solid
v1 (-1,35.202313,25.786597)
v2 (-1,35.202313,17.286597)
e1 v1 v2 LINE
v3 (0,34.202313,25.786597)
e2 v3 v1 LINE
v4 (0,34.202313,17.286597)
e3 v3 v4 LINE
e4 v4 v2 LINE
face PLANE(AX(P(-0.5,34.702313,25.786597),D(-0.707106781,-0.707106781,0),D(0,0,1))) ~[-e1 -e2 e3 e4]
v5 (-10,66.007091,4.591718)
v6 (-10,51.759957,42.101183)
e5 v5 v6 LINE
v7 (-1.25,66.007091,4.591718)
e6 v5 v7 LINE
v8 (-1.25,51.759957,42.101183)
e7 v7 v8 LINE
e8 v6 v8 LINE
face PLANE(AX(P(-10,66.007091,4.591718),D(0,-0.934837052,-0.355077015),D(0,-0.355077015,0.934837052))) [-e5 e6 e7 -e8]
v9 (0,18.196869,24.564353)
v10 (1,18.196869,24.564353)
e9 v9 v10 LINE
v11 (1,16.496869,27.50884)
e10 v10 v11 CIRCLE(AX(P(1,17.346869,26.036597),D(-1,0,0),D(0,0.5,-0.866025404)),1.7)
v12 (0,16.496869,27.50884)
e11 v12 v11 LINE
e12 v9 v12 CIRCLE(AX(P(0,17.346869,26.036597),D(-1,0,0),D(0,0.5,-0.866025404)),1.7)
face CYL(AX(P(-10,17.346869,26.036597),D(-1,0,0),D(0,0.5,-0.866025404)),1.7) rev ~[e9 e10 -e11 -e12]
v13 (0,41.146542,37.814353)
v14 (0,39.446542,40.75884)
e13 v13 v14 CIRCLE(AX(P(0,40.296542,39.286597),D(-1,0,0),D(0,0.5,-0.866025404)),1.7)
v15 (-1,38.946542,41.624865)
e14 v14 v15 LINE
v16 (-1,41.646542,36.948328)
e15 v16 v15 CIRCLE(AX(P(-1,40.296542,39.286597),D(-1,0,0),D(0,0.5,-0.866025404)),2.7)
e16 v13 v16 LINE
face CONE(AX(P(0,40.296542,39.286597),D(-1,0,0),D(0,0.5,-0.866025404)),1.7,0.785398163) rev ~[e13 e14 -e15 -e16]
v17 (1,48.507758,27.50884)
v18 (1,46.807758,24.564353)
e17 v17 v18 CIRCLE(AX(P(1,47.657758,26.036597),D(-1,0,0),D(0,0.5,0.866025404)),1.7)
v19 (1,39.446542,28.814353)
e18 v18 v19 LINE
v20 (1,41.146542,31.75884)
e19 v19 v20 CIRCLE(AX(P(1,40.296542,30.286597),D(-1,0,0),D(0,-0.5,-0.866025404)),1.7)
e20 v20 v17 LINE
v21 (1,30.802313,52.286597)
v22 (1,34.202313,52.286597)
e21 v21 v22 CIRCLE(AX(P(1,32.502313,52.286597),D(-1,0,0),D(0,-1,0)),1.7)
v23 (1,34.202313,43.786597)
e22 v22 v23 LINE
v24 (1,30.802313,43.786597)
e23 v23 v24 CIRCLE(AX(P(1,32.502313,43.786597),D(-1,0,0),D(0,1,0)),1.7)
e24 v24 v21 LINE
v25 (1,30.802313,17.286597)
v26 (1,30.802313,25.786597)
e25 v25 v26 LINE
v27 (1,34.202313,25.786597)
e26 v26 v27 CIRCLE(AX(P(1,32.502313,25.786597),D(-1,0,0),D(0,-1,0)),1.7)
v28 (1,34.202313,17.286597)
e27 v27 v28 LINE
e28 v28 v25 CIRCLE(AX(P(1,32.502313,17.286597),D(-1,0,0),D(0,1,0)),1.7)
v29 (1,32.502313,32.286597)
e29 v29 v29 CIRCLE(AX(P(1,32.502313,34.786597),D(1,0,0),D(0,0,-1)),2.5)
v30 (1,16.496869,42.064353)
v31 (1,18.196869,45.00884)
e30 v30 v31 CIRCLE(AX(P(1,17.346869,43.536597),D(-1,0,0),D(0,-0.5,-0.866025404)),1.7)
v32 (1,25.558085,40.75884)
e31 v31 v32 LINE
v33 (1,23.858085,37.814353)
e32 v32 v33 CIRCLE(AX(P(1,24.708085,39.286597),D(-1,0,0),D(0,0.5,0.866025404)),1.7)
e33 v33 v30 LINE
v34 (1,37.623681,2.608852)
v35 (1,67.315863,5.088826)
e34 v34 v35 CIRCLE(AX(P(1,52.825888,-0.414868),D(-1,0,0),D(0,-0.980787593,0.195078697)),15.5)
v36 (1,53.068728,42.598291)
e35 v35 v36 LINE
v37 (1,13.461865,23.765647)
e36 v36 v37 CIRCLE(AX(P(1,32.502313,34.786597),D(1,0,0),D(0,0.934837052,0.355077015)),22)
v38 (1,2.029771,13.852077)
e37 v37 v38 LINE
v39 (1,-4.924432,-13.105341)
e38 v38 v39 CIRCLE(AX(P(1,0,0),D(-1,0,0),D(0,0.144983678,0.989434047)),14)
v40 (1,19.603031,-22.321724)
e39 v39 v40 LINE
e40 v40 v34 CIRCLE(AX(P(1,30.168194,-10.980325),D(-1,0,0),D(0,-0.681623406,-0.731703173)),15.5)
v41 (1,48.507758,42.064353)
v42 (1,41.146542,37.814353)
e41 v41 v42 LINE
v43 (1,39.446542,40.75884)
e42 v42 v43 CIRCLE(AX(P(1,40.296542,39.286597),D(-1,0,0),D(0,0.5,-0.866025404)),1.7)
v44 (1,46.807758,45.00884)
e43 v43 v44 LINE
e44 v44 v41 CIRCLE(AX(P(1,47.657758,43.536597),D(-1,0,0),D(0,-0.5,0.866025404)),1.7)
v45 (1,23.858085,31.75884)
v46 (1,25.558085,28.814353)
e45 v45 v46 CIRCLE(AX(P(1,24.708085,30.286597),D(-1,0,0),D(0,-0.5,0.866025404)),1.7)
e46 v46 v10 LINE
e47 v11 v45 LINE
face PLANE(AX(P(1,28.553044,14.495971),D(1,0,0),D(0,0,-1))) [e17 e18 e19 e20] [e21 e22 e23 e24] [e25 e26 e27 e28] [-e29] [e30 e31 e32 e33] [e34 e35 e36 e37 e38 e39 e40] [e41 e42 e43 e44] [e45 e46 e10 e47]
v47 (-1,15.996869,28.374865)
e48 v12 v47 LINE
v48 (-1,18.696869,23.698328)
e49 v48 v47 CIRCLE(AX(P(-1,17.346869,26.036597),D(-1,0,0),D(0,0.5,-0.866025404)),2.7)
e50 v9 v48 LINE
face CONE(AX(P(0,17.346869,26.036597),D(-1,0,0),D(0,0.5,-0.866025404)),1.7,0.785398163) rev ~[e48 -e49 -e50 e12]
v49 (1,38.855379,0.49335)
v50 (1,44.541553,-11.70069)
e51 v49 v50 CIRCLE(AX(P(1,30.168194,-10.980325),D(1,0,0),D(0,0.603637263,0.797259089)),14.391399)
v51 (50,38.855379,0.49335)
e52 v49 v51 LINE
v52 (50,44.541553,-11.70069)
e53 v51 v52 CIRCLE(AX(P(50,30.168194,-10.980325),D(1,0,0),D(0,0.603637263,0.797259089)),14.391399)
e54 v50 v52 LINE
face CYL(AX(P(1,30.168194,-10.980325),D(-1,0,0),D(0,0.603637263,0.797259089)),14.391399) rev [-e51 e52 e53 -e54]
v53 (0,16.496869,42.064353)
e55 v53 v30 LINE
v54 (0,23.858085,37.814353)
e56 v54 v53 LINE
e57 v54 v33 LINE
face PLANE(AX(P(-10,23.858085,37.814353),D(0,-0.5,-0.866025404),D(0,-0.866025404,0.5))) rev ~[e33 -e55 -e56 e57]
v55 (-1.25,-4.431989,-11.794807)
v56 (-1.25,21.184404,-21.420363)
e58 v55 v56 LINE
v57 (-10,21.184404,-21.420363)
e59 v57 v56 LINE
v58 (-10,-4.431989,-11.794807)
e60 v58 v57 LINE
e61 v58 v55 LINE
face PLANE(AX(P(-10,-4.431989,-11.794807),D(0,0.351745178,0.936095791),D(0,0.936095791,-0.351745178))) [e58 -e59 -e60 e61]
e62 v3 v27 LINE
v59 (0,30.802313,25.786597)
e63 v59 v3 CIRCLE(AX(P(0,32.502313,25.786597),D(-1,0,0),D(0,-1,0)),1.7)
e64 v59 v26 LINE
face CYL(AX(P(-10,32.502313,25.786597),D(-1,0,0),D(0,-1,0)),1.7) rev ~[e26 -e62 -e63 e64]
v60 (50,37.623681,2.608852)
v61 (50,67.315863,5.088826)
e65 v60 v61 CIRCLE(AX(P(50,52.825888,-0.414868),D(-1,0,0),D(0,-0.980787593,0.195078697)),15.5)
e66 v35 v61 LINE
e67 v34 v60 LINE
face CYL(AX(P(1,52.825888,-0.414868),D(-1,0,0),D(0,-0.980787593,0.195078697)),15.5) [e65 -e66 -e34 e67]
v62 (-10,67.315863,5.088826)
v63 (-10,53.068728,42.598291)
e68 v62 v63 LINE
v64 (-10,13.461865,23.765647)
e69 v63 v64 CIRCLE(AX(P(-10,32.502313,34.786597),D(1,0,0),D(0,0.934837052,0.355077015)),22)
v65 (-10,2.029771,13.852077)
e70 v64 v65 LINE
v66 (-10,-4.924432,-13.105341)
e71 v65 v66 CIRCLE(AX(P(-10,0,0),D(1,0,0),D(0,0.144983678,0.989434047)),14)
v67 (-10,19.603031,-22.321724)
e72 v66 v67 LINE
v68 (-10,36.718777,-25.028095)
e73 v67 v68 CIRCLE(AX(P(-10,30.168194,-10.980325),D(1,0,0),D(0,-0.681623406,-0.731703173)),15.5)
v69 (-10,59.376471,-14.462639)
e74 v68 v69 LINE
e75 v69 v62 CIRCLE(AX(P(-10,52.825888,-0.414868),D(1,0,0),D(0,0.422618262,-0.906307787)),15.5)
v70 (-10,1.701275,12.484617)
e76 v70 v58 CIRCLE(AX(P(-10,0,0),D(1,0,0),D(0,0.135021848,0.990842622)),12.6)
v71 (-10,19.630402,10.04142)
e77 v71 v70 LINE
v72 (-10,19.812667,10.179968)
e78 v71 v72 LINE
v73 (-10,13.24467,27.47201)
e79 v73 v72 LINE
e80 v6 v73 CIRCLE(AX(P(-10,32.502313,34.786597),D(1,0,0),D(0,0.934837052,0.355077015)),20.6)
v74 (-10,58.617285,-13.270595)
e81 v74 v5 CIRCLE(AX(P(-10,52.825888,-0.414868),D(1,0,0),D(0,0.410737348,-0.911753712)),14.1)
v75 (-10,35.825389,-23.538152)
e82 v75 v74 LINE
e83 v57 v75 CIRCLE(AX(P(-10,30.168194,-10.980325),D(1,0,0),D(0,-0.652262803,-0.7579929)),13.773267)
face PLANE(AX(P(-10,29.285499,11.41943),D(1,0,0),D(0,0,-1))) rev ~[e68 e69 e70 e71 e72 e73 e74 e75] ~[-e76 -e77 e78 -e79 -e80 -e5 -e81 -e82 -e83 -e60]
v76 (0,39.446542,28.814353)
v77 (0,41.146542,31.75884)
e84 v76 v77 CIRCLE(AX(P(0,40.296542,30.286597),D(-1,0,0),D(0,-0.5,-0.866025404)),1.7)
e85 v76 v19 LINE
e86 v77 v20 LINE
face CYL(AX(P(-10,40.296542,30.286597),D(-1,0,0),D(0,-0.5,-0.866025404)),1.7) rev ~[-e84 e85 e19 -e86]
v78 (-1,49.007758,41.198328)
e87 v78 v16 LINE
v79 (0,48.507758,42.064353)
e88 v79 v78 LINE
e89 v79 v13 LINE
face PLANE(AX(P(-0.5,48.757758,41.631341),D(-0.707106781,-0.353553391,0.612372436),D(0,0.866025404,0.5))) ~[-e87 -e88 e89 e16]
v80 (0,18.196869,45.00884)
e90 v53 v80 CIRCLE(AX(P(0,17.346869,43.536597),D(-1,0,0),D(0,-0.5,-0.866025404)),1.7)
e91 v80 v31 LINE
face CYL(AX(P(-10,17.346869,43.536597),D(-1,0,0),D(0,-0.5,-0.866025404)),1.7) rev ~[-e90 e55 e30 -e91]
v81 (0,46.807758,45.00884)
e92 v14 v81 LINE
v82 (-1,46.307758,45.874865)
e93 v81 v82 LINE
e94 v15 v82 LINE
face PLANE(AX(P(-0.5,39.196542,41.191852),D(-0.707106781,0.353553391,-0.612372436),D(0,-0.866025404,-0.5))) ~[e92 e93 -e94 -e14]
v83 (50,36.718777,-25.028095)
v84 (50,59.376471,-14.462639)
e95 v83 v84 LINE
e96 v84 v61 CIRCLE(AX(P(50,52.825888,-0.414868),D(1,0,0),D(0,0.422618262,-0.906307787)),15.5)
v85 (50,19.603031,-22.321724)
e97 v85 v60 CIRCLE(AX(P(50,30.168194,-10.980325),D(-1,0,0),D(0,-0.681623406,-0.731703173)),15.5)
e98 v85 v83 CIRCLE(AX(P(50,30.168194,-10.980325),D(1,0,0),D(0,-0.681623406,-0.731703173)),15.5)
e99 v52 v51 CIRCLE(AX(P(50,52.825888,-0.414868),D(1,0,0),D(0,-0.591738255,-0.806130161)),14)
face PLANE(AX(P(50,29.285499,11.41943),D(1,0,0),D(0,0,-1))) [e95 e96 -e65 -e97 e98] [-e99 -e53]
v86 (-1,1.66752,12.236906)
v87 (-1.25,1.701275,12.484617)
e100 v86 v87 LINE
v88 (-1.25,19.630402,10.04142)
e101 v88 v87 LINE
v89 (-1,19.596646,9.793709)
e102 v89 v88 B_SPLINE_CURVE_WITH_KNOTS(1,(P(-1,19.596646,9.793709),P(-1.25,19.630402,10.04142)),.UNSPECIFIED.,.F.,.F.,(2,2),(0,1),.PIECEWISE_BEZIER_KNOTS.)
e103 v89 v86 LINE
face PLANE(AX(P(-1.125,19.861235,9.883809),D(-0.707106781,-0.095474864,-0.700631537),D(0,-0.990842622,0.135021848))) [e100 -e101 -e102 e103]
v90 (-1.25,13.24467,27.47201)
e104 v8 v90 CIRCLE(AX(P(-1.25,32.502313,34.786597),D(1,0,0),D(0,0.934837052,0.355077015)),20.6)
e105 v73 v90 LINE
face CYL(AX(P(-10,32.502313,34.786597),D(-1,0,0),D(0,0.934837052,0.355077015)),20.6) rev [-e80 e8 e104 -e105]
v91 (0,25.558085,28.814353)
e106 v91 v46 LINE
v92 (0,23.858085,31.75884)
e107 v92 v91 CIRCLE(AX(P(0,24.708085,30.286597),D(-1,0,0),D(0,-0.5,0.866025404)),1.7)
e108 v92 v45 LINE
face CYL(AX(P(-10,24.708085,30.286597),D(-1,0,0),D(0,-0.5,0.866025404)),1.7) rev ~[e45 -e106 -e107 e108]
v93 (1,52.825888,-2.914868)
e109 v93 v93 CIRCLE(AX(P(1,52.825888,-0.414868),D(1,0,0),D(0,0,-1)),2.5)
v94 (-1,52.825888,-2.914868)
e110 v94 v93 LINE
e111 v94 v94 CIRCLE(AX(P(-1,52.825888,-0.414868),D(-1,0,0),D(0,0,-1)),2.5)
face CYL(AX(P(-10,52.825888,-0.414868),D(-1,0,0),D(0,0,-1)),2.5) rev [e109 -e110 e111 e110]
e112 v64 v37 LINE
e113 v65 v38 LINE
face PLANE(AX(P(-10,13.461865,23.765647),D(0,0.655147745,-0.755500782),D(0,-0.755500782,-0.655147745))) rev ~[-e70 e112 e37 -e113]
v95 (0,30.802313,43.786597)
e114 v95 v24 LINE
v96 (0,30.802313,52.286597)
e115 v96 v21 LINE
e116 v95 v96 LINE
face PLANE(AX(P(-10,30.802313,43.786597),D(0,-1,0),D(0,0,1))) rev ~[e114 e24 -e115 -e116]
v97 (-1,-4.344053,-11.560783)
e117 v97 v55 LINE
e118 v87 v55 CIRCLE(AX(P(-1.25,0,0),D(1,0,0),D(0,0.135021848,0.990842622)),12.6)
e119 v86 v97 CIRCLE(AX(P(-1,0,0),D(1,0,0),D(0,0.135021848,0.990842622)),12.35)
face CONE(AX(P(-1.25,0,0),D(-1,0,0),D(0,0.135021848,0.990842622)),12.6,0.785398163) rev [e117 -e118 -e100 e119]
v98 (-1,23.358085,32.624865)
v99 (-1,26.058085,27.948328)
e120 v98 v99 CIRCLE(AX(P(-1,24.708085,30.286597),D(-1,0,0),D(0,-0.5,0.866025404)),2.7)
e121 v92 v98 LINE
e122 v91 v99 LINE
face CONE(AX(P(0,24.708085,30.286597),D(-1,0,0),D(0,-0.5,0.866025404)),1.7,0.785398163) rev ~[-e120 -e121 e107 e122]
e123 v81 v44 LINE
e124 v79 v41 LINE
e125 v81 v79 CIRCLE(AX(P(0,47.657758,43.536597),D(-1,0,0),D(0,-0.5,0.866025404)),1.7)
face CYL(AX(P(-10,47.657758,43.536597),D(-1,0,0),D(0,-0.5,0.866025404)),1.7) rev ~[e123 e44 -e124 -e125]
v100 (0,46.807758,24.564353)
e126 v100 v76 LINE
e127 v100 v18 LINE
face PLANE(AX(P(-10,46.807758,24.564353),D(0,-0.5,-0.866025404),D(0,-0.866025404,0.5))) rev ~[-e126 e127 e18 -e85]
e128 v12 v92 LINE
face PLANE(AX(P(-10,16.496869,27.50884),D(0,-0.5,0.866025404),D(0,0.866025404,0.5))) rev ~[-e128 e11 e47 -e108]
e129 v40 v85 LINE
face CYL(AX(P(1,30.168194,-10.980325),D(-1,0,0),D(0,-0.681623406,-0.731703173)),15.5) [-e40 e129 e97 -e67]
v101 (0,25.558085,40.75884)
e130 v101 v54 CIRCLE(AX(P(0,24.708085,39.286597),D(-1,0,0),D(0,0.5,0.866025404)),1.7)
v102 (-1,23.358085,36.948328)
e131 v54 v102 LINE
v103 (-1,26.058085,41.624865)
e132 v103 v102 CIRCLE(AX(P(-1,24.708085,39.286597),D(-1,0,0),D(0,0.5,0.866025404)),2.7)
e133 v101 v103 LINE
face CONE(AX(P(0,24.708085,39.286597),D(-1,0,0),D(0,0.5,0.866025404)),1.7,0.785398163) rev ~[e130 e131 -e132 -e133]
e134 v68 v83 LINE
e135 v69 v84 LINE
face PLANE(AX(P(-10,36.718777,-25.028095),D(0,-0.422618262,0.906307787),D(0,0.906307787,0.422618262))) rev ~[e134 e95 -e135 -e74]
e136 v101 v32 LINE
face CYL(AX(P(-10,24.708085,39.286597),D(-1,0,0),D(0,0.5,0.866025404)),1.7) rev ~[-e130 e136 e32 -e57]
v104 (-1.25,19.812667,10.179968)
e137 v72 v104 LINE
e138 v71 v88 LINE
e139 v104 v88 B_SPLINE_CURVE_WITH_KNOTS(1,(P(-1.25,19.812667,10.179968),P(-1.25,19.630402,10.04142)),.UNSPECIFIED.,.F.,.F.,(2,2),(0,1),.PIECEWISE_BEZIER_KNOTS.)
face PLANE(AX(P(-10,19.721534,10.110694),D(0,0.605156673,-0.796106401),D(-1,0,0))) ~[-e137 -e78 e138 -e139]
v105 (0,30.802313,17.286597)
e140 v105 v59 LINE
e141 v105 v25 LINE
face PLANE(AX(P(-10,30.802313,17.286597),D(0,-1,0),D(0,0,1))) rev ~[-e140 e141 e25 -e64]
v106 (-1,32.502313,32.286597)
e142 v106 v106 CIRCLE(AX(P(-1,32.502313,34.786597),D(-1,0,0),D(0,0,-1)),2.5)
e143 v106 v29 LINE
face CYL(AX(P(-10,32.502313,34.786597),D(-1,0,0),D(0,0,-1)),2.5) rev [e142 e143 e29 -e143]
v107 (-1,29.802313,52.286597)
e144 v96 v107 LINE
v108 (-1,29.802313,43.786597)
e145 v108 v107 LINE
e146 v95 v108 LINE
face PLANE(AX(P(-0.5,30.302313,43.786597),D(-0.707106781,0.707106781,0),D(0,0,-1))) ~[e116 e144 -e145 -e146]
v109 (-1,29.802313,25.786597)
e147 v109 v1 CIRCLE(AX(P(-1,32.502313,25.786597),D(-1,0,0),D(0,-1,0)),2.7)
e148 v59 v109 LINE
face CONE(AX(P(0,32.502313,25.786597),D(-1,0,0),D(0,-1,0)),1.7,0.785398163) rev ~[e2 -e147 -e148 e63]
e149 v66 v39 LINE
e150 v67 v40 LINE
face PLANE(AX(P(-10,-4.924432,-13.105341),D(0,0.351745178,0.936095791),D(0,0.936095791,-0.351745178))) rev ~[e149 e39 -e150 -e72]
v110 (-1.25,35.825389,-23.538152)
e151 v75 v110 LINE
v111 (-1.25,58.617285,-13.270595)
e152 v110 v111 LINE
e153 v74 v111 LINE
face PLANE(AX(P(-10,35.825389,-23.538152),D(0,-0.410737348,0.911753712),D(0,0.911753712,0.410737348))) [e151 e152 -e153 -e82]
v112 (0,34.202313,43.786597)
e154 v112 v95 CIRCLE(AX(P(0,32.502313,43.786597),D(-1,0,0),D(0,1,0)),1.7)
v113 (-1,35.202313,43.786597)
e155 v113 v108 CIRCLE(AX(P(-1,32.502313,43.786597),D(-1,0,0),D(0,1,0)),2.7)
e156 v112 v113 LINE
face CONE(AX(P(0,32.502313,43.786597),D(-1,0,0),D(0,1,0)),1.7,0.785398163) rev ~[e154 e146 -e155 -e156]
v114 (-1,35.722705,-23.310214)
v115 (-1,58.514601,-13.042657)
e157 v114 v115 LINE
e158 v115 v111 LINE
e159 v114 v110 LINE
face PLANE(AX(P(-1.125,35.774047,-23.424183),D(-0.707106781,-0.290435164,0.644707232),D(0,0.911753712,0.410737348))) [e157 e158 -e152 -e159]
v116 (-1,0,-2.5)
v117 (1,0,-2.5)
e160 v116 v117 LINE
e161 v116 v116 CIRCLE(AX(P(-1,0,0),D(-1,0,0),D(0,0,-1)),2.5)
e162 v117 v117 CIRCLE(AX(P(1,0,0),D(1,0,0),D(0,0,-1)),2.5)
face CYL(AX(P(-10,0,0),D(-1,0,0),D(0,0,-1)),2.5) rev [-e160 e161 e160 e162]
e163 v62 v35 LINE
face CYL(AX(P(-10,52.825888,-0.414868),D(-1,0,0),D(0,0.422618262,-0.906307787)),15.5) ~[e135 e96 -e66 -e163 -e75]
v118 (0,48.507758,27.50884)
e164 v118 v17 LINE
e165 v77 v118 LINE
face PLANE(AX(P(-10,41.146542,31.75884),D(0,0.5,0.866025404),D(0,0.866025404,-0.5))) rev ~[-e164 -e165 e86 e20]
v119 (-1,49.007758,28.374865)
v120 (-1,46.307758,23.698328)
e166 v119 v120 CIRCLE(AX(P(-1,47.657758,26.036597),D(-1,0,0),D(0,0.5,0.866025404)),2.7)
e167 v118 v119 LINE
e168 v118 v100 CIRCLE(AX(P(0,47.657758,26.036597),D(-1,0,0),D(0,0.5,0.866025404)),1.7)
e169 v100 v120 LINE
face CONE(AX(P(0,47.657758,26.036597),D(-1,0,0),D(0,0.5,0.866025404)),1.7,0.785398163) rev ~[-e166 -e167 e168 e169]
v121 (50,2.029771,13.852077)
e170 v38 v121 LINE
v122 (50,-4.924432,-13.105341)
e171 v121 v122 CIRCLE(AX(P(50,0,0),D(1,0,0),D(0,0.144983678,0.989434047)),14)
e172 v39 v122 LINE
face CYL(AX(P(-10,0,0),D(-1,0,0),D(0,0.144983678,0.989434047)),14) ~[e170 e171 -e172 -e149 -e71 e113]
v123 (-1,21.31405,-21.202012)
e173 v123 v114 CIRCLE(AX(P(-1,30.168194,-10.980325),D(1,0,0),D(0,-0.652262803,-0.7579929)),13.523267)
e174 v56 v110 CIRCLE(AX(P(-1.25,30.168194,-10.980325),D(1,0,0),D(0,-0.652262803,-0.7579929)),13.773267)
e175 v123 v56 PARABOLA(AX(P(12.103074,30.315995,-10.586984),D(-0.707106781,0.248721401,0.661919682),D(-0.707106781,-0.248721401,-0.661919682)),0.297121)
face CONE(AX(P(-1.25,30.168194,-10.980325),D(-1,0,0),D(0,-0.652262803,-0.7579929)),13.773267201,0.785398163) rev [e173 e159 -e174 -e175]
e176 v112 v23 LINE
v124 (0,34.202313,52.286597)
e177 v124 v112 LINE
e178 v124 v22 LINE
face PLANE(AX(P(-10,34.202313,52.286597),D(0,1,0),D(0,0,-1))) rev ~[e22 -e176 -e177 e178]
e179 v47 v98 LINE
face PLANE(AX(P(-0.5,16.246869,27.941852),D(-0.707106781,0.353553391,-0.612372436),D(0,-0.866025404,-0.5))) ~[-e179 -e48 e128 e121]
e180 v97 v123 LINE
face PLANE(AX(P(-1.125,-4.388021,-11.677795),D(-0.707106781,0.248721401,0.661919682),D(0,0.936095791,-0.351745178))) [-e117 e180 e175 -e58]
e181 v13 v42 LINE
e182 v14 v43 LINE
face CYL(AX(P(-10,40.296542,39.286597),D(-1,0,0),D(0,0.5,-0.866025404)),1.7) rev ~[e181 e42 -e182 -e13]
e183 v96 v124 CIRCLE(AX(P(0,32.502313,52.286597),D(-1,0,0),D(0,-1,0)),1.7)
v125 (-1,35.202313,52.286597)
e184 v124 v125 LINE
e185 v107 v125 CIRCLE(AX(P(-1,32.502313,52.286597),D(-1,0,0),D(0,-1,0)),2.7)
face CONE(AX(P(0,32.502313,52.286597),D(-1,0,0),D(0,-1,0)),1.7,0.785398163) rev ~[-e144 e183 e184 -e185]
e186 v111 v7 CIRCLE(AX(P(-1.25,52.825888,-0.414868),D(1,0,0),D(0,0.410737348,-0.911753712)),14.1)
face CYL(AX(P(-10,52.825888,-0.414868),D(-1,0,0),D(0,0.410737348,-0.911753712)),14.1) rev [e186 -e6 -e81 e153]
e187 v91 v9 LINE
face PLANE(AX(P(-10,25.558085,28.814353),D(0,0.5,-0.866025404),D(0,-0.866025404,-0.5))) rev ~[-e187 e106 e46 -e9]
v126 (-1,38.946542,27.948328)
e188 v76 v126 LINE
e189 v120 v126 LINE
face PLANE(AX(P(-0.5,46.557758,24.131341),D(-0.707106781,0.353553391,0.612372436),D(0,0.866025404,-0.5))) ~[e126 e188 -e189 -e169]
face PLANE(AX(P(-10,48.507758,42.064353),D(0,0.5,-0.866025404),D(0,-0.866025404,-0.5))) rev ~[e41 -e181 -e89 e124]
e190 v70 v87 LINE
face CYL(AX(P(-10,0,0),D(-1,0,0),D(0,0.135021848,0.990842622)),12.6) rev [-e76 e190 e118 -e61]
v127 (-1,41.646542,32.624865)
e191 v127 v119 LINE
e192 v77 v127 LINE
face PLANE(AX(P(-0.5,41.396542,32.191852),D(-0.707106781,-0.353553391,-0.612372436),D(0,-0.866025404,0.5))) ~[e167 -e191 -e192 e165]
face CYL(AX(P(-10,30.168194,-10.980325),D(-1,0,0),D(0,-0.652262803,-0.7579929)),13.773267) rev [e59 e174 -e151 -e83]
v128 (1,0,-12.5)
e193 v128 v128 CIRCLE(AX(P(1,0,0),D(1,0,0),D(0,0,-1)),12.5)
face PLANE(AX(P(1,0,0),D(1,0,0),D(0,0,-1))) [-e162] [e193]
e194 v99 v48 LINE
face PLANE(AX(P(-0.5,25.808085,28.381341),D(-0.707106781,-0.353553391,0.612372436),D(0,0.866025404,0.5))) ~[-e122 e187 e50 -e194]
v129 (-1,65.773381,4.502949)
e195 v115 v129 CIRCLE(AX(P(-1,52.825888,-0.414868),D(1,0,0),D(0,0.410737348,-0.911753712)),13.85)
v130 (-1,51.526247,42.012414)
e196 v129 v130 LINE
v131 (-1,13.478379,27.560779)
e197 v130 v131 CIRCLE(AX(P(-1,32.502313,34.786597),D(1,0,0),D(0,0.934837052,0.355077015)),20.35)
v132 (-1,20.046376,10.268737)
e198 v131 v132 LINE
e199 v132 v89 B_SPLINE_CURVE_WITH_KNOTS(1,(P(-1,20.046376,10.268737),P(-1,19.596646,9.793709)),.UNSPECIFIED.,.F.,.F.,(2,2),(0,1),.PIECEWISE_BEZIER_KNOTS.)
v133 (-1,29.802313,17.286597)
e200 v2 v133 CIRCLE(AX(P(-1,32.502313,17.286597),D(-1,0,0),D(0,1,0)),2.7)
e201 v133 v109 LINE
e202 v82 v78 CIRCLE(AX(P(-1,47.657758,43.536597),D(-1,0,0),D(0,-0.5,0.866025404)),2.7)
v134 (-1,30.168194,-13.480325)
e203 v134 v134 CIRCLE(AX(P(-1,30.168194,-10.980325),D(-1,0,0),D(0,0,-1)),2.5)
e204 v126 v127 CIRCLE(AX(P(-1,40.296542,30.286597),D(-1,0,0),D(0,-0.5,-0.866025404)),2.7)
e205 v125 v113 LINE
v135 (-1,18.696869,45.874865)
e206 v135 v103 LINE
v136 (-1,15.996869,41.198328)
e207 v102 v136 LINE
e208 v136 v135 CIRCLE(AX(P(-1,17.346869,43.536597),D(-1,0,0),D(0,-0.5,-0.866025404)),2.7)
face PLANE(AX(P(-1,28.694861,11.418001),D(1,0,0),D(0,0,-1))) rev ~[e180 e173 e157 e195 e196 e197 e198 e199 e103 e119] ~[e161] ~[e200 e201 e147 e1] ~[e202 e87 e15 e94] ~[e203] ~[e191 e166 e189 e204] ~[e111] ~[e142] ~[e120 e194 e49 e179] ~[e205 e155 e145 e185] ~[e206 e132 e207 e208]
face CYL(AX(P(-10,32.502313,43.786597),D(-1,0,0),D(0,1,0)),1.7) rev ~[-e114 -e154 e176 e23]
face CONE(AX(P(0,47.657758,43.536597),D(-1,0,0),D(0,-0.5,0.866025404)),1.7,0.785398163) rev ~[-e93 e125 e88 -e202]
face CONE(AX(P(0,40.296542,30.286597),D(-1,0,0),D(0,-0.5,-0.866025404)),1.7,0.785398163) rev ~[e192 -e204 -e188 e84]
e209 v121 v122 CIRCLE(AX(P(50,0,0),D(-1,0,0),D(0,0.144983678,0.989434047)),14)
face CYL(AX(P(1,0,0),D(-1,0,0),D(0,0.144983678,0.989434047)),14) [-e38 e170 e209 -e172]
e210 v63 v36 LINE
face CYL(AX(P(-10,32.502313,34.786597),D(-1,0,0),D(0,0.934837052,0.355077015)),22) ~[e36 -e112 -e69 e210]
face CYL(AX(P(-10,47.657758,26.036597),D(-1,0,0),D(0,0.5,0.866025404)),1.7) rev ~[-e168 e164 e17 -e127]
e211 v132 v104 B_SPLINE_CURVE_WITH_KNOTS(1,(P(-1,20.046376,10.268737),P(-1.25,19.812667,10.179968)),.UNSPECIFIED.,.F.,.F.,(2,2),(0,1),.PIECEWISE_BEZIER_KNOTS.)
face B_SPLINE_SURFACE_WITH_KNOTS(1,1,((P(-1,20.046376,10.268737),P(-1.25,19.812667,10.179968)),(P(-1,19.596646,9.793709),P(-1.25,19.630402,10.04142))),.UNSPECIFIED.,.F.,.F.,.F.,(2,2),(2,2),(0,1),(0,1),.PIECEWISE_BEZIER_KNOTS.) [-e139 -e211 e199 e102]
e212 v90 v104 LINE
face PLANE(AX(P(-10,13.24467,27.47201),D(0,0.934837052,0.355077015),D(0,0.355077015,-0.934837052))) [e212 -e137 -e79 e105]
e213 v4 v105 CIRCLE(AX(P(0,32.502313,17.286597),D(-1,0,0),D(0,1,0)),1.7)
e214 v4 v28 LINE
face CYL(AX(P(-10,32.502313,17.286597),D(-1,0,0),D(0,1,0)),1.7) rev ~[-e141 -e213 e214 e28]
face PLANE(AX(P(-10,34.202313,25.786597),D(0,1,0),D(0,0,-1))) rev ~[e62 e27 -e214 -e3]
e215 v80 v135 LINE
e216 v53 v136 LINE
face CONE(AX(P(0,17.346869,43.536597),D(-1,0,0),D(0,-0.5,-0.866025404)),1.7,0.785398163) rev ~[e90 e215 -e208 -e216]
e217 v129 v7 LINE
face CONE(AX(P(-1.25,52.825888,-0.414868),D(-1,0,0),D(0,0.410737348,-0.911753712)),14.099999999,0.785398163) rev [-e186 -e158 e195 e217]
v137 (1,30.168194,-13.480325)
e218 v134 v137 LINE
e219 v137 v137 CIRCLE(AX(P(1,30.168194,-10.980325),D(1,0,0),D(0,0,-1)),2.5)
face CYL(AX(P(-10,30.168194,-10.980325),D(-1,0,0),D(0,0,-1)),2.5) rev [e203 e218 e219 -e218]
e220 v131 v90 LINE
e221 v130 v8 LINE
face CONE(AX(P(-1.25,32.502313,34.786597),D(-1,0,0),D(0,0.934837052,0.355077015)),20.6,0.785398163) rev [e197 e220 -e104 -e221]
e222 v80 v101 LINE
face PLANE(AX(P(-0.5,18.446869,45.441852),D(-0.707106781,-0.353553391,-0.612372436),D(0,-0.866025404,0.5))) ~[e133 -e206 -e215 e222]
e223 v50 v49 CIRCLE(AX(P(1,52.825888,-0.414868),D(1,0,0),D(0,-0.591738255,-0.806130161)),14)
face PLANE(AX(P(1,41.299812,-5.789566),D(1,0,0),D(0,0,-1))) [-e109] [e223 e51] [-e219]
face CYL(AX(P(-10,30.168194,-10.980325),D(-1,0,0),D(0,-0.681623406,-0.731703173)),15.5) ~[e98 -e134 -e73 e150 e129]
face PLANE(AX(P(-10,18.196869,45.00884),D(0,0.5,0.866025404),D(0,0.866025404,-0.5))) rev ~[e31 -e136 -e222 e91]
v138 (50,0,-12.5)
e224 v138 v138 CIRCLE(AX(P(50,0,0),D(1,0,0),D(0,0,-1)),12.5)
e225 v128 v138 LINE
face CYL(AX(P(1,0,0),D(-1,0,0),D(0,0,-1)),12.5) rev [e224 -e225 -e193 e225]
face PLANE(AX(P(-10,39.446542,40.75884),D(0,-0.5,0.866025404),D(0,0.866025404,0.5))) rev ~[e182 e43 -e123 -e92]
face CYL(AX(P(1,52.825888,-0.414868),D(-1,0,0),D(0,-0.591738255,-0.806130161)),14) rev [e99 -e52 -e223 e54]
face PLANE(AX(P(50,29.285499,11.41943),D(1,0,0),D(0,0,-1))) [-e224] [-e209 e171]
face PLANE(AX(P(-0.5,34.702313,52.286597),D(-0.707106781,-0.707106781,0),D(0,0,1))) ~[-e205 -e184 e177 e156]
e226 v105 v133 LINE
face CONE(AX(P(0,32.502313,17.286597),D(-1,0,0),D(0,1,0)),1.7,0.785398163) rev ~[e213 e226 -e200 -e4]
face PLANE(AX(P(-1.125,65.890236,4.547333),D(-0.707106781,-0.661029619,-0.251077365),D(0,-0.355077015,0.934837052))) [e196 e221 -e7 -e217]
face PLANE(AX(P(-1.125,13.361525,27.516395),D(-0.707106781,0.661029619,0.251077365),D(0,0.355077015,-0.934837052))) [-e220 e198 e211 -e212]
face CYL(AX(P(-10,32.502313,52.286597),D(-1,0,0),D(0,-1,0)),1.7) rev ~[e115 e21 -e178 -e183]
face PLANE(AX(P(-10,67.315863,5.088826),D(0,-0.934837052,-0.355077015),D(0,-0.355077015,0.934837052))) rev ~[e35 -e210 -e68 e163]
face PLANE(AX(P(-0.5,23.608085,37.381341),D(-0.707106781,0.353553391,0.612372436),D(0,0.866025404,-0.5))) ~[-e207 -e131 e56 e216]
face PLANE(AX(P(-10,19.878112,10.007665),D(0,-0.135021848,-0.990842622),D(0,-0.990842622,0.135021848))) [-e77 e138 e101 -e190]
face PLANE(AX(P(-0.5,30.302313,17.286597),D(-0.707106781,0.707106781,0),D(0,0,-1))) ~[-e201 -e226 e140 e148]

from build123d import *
from OCP.BRepFilletAPI import BRepFilletAPI_MakeChamfer
from build123d.topology import SkipClean

# Parameters (mm, degrees)
BOSS_EXTRUDE1_DEPTH      = 50
BOSS_EXTRUDE1_DEPTH_BACK = 10
SKETCH1_R                = 2.5
CUT_EXTRUDE1_DEPTH       = 9
CUT_EXTRUDE2_START       = -49
SKETCH3_R                = 2.5
SKETCH3_R_2              = 12.5
CUT_EXTRUDE2_DEPTH       = 49
CHAMFER1_SIZE            = 1
CHAMFER3_SIZE            = 0.25
CHAMFER3_SIZE2           = 0.184313844


with BuildPart() as part:
    # Sketch1 → Boss-Extrude1 (new, two sides: drawn at the far end of the back side and taken through both)
    with BuildSketch(Plane(origin=(0, 0, 0), x_dir=(0, 0, -1), z_dir=(1, 0, 0)).offset(-BOSS_EXTRUDE1_DEPTH_BACK)):
        with BuildLine():
            Line((-23.765647123, 13.461864934), (-13.852076656, 2.029771495))
            ThreePointArc((-13.852076656, 2.029771495), (-3.497090476, -13.556192615), (13.105341071, -4.924432496))
            Line((13.105341071, -4.924432496), (22.321723678, 19.603030839))
            ThreePointArc((22.321723678, 19.603030839), (26.290114693, 27.747382955), (25.028095201, 36.718776684))
            Line((25.028095201, 36.718776684), (14.462638657, 59.37647136))
            ThreePointArc((14.462638657, 59.37647136), (6.246574067, 67.186988673), (-5.088825774, 67.315862606))
            Line((-5.088825774, 67.315862606), (-42.598290861, 53.068728443))
            ThreePointArc((-42.598290861, 53.068728443), (-54.654931611, 23.055130592), (-23.765647123, 13.461864934))
        make_face()
        with Locations((-34.786596532, 32.502313304)):
            Circle(SKETCH1_R, mode=Mode.SUBTRACT)
        Circle(SKETCH1_R, mode=Mode.SUBTRACT)
        with Locations((10.980324502, 30.168193627)):
            Circle(SKETCH1_R, mode=Mode.SUBTRACT)
        with Locations((0.414867958, 52.825888303)):
            Circle(SKETCH1_R, mode=Mode.SUBTRACT)
        with BuildLine():
            Line((-43.786596532, 30.802313304), (-52.286596532, 30.802313304))
            ThreePointArc((-52.286596532, 30.802313304), (-53.986596532, 32.502313304), (-52.286596532, 34.202313304))
            Line((-52.286596532, 34.202313304), (-43.786596532, 34.202313304))
            ThreePointArc((-43.786596532, 34.202313304), (-42.086596532, 32.502313304), (-43.786596532, 30.802313304))
        make_face(mode=Mode.SUBTRACT)
        with BuildLine():
            Line((-40.758839718, 39.446541938), (-45.008839718, 46.80775787))
            ThreePointArc((-45.008839718, 46.80775787), (-44.386596532, 49.130001056), (-42.064353345, 48.50775787))
            Line((-42.064353345, 48.50775787), (-37.814353345, 41.146541938))
            ThreePointArc((-37.814353345, 41.146541938), (-38.436596532, 38.824298751), (-40.758839718, 39.446541938))
        make_face(mode=Mode.SUBTRACT)
        with BuildLine():
            Line((-31.758839718, 41.146541938), (-27.508839718, 48.50775787))
            ThreePointArc((-27.508839718, 48.50775787), (-25.186596532, 49.130001056), (-24.564353345, 46.80775787))
            Line((-24.564353345, 46.80775787), (-28.814353345, 39.446541938))
            ThreePointArc((-28.814353345, 39.446541938), (-31.136596532, 38.824298751), (-31.758839718, 41.146541938))
        make_face(mode=Mode.SUBTRACT)
        with BuildLine():
            Line((-25.786596532, 34.202313304), (-17.286596532, 34.202313304))
            ThreePointArc((-17.286596532, 34.202313304), (-15.586596532, 32.502313304), (-17.286596532, 30.802313304))
            Line((-17.286596532, 30.802313304), (-25.786596532, 30.802313304))
            ThreePointArc((-25.786596532, 30.802313304), (-27.486596532, 32.502313304), (-25.786596532, 34.202313304))
        make_face(mode=Mode.SUBTRACT)
        with BuildLine():
            Line((-28.814353345, 25.55808467), (-24.564353345, 18.196868737))
            ThreePointArc((-24.564353345, 18.196868737), (-25.186596532, 15.874625551), (-27.508839718, 16.496868737))
            Line((-27.508839718, 16.496868737), (-31.758839718, 23.85808467))
            ThreePointArc((-31.758839718, 23.85808467), (-31.136596532, 26.180327856), (-28.814353345, 25.55808467))
        make_face(mode=Mode.SUBTRACT)
        with BuildLine():
            Line((-37.814353345, 23.85808467), (-42.064353345, 16.496868737))
            ThreePointArc((-42.064353345, 16.496868737), (-44.386596532, 15.874625551), (-45.008839718, 18.196868737))
            Line((-45.008839718, 18.196868737), (-40.758839718, 25.55808467))
            ThreePointArc((-40.758839718, 25.55808467), (-38.436596532, 26.180327856), (-37.814353345, 23.85808467))
        make_face(mode=Mode.SUBTRACT)
    extrude(amount=BOSS_EXTRUDE1_DEPTH + BOSS_EXTRUDE1_DEPTH_BACK)

    # Sketch2 → Cut-Extrude1 (cut)
    with BuildSketch(Plane.ZY.offset(10)):
        with BuildLine():
            Line((27.472010023, 13.244670036), (10.007664514, 19.878112367))
            Line((10.007664514, 19.878112367), (12.484617032, 1.701275279))
            ThreePointArc((12.484617032, 1.701275279), (3.085967096, -12.216251761), (-11.794806964, -4.431989247))
            Line((-11.794806964, -4.431989247), (-21.420363252, 21.184403759))
            ThreePointArc((-21.420363252, 21.184403759), (-24.611724807, 28.196439271), (-23.538151999, 35.825388873))
            Line((-23.538151999, 35.825388873), (-13.270595294, 58.617284911))
            ThreePointArc((-13.270595294, 58.617284911), (-5.805096413, 65.854911183), (4.591717953, 66.007090733))
            Line((4.591717953, 66.007090733), (42.10118304, 51.759956571))
            ThreePointArc((42.10118304, 51.759956571), (54.044239799, 25.187726795), (27.472010023, 13.244670036))
        make_face()
    extrude(amount=-CUT_EXTRUDE1_DEPTH, mode=Mode.SUBTRACT)

    # Sketch3 → Cut-Extrude2 (cut)
    # profile 1 of 3: a face of its own
    with SkipClean():  # the faces are left unmerged after this step: merging them gives an invalid solid
        with BuildSketch(Plane(origin=(50, 0, 0), x_dir=(0, 0, -1), z_dir=(1, 0, 0)).offset(CUT_EXTRUDE2_START)):
            with BuildLine():
                Line((13.105341071, -4.924432496), (22.321723678, 19.603030839))
                ThreePointArc((22.321723678, 19.603030839), (1.900176918, 17.606310016), (-2.608851844, 37.623680616))
                ThreePointArc((-2.608851844, 37.623680616), (-15.031348835, 51.535777156), (-5.088825774, 67.315862606))
                Line((-5.088825774, 67.315862606), (-42.598290861, 53.068728443))
                ThreePointArc((-42.598290861, 53.068728443), (-54.654931611, 23.055130592), (-23.765647123, 13.461864934))
                Line((-23.765647123, 13.461864934), (-13.852076656, 2.029771495))
                ThreePointArc((-13.852076656, 2.029771495), (3.497090476, 13.556192615), (13.105341071, -4.924432496))
            make_face()
            with BuildLine():
                ThreePointArc((-40.758839718, 25.55808467), (-38.436596532, 26.180327856), (-37.814353345, 23.85808467))
                Line((-37.814353345, 23.85808467), (-42.064353345, 16.496868737))
                ThreePointArc((-42.064353345, 16.496868737), (-44.386596532, 15.874625551), (-45.008839718, 18.196868737))
                Line((-45.008839718, 18.196868737), (-40.758839718, 25.55808467))
            make_face(mode=Mode.SUBTRACT)
            with BuildLine():
                ThreePointArc((-31.758839718, 23.85808467), (-31.136596532, 26.180327856), (-28.814353345, 25.55808467))
                Line((-28.814353345, 25.55808467), (-24.564353345, 18.196868737))
                ThreePointArc((-24.564353345, 18.196868737), (-25.186596532, 15.874625551), (-27.508839718, 16.496868737))
                Line((-27.508839718, 16.496868737), (-31.758839718, 23.85808467))
            make_face(mode=Mode.SUBTRACT)
            with BuildLine():
                ThreePointArc((-43.786596532, 34.202313304), (-42.086596532, 32.502313304), (-43.786596532, 30.802313304))
                Line((-43.786596532, 30.802313304), (-52.286596532, 30.802313304))
                ThreePointArc((-52.286596532, 30.802313304), (-53.986596532, 32.502313304), (-52.286596532, 34.202313304))
                Line((-52.286596532, 34.202313304), (-43.786596532, 34.202313304))
            make_face(mode=Mode.SUBTRACT)
            with BuildLine():
                ThreePointArc((-37.814353345, 41.146541938), (-38.436596532, 38.824298751), (-40.758839718, 39.446541938))
                Line((-40.758839718, 39.446541938), (-45.008839718, 46.80775787))
                ThreePointArc((-45.008839718, 46.80775787), (-44.386596532, 49.130001056), (-42.064353345, 48.50775787))
                Line((-42.064353345, 48.50775787), (-37.814353345, 41.146541938))
            make_face(mode=Mode.SUBTRACT)
            with Locations((-34.786596532, 32.502313304)):
                Circle(SKETCH3_R, mode=Mode.SUBTRACT)
            with BuildLine():
                Line((-17.286596532, 30.802313304), (-25.786596532, 30.802313304))
                ThreePointArc((-25.786596532, 30.802313304), (-27.486596532, 32.502313304), (-25.786596532, 34.202313304))
                Line((-25.786596532, 34.202313304), (-17.286596532, 34.202313304))
                ThreePointArc((-17.286596532, 34.202313304), (-15.586596532, 32.502313304), (-17.286596532, 30.802313304))
            make_face(mode=Mode.SUBTRACT)
            with BuildLine():
                ThreePointArc((-27.508839718, 48.50775787), (-25.186596532, 49.130001056), (-24.564353345, 46.80775787))
                Line((-24.564353345, 46.80775787), (-28.814353345, 39.446541938))
                ThreePointArc((-28.814353345, 39.446541938), (-31.136596532, 38.824298751), (-31.758839718, 41.146541938))
                Line((-31.758839718, 41.146541938), (-27.508839718, 48.50775787))
            make_face(mode=Mode.SUBTRACT)
        # profile 2 of 3: a face of its own
        with BuildSketch(Plane(origin=(50, 0, 0), x_dir=(0, 0, -1), z_dir=(1, 0, 0)).offset(CUT_EXTRUDE2_START)):
            with BuildLine():
                ThreePointArc((11.700690218, 44.541552728), (-5.501787706, 65.514197321), (-0.493349523, 38.855378612))
                ThreePointArc((-0.493349523, 38.855378612), (17.062392728, 17.125156224), (11.700690218, 44.541552728))
            make_face()
            with Locations((0.414867958, 52.825888303)):
                Circle(SKETCH3_R, mode=Mode.SUBTRACT)
            with Locations((10.980324502, 30.168193627)):
                Circle(SKETCH3_R, mode=Mode.SUBTRACT)
        # profile 3 of 3: a face of its own
        with BuildSketch(Plane(origin=(50, 0, 0), x_dir=(0, 0, -1), z_dir=(1, 0, 0)).offset(CUT_EXTRUDE2_START)):
            Circle(SKETCH3_R_2)
            Circle(SKETCH3_R, mode=Mode.SUBTRACT)
        extrude(amount=CUT_EXTRUDE2_DEPTH, mode=Mode.SUBTRACT)

    # Chamfer1
    chamfer1_edges = [part.edges().sort_by_distance(p)[0] for p in [
        (-1, 21.877476703, 42.883839718),
        (-1, 30.802313304, 48.036596532),
        (-1, 32.502313304, 42.086596532),
        (-1, 34.202313304, 48.036596532),
        (-1, 32.502313304, 53.986596532),
        (-1, 43.127149904, 42.883839718),
        (-1, 38.824298751, 38.436596532),
        (-1, 44.827149904, 39.939353345),
        (-1, 49.130001056, 44.386596532),
        (-1, 44.827149904, 29.633839718),
        (-1, 38.824298751, 31.136596532),
        (-1, 43.127149904, 26.689353345),
        (-1, 49.130001056, 25.186596532),
        (-1, 34.202313304, 21.536596532),
        (-1, 32.502313304, 27.486596532),
        (-1, 30.802313304, 21.536596532),
        (-1, 32.502313304, 15.586596532),
        (-1, 21.877476703, 26.689353345),
        (-1, 26.180327856, 31.136596532),
        (-1, 20.177476703, 29.633839718),
        (-1, 15.874625551, 25.186596532),
        (-1, 20.177476703, 39.939353345),
        (-1, 26.180327856, 38.436596532),
        (-1, 15.874625551, 44.386596532),
    ]]
    chamfer(chamfer1_edges, length=CHAMFER1_SIZE)

    # Chamfer3: one chamfer whose edges measure the first distance from different faces: ONE call of the kernel's chamfer builder (chamfer() names one face for all edges)
    chamfer3_edges_1 = [part.edges().sort_by_distance(p)[0] for p in [
        (-1, 25.187726795, 54.044239799),
        (-1, 16.561391202, 18.739837269),
        (-1, 10.789693823, 11.246140773),
        (-1, -12.216251761, 3.085967096),
        (-1, 8.376207256, -16.607585108),
        (-1, 28.196439271, -24.611724807),
        (-1, 47.221336892, -18.404373646),
        (-1, 65.854911183, -5.805096413),
        (-1, 58.883523652, 23.346450497),
    ]]
    chamfer3_edges_2 = [part.edges().sort_by_distance(p)[0] for p in [
        (-5.5, 19.878112367, 10.007664514),
    ]]
    chamfer3_side_2 = [part.faces().sort_by_distance(p)[0] for p in [
        (-5.5, 10.789693823, 11.246140773),
    ]]
    chamfer3 = BRepFilletAPI_MakeChamfer(part.part.solid().wrapped)
    for e in chamfer3_edges_1:
        chamfer3.Add(CHAMFER3_SIZE, e.wrapped)
    for e in chamfer3_edges_2:
        chamfer3.Add(CHAMFER3_SIZE, CHAMFER3_SIZE2, e.wrapped, chamfer3_side_2[0].wrapped)  # the first distance lies on this face
    add(Compound.cast(chamfer3.Shape()), mode=Mode.REPLACE)


solid = part.part
